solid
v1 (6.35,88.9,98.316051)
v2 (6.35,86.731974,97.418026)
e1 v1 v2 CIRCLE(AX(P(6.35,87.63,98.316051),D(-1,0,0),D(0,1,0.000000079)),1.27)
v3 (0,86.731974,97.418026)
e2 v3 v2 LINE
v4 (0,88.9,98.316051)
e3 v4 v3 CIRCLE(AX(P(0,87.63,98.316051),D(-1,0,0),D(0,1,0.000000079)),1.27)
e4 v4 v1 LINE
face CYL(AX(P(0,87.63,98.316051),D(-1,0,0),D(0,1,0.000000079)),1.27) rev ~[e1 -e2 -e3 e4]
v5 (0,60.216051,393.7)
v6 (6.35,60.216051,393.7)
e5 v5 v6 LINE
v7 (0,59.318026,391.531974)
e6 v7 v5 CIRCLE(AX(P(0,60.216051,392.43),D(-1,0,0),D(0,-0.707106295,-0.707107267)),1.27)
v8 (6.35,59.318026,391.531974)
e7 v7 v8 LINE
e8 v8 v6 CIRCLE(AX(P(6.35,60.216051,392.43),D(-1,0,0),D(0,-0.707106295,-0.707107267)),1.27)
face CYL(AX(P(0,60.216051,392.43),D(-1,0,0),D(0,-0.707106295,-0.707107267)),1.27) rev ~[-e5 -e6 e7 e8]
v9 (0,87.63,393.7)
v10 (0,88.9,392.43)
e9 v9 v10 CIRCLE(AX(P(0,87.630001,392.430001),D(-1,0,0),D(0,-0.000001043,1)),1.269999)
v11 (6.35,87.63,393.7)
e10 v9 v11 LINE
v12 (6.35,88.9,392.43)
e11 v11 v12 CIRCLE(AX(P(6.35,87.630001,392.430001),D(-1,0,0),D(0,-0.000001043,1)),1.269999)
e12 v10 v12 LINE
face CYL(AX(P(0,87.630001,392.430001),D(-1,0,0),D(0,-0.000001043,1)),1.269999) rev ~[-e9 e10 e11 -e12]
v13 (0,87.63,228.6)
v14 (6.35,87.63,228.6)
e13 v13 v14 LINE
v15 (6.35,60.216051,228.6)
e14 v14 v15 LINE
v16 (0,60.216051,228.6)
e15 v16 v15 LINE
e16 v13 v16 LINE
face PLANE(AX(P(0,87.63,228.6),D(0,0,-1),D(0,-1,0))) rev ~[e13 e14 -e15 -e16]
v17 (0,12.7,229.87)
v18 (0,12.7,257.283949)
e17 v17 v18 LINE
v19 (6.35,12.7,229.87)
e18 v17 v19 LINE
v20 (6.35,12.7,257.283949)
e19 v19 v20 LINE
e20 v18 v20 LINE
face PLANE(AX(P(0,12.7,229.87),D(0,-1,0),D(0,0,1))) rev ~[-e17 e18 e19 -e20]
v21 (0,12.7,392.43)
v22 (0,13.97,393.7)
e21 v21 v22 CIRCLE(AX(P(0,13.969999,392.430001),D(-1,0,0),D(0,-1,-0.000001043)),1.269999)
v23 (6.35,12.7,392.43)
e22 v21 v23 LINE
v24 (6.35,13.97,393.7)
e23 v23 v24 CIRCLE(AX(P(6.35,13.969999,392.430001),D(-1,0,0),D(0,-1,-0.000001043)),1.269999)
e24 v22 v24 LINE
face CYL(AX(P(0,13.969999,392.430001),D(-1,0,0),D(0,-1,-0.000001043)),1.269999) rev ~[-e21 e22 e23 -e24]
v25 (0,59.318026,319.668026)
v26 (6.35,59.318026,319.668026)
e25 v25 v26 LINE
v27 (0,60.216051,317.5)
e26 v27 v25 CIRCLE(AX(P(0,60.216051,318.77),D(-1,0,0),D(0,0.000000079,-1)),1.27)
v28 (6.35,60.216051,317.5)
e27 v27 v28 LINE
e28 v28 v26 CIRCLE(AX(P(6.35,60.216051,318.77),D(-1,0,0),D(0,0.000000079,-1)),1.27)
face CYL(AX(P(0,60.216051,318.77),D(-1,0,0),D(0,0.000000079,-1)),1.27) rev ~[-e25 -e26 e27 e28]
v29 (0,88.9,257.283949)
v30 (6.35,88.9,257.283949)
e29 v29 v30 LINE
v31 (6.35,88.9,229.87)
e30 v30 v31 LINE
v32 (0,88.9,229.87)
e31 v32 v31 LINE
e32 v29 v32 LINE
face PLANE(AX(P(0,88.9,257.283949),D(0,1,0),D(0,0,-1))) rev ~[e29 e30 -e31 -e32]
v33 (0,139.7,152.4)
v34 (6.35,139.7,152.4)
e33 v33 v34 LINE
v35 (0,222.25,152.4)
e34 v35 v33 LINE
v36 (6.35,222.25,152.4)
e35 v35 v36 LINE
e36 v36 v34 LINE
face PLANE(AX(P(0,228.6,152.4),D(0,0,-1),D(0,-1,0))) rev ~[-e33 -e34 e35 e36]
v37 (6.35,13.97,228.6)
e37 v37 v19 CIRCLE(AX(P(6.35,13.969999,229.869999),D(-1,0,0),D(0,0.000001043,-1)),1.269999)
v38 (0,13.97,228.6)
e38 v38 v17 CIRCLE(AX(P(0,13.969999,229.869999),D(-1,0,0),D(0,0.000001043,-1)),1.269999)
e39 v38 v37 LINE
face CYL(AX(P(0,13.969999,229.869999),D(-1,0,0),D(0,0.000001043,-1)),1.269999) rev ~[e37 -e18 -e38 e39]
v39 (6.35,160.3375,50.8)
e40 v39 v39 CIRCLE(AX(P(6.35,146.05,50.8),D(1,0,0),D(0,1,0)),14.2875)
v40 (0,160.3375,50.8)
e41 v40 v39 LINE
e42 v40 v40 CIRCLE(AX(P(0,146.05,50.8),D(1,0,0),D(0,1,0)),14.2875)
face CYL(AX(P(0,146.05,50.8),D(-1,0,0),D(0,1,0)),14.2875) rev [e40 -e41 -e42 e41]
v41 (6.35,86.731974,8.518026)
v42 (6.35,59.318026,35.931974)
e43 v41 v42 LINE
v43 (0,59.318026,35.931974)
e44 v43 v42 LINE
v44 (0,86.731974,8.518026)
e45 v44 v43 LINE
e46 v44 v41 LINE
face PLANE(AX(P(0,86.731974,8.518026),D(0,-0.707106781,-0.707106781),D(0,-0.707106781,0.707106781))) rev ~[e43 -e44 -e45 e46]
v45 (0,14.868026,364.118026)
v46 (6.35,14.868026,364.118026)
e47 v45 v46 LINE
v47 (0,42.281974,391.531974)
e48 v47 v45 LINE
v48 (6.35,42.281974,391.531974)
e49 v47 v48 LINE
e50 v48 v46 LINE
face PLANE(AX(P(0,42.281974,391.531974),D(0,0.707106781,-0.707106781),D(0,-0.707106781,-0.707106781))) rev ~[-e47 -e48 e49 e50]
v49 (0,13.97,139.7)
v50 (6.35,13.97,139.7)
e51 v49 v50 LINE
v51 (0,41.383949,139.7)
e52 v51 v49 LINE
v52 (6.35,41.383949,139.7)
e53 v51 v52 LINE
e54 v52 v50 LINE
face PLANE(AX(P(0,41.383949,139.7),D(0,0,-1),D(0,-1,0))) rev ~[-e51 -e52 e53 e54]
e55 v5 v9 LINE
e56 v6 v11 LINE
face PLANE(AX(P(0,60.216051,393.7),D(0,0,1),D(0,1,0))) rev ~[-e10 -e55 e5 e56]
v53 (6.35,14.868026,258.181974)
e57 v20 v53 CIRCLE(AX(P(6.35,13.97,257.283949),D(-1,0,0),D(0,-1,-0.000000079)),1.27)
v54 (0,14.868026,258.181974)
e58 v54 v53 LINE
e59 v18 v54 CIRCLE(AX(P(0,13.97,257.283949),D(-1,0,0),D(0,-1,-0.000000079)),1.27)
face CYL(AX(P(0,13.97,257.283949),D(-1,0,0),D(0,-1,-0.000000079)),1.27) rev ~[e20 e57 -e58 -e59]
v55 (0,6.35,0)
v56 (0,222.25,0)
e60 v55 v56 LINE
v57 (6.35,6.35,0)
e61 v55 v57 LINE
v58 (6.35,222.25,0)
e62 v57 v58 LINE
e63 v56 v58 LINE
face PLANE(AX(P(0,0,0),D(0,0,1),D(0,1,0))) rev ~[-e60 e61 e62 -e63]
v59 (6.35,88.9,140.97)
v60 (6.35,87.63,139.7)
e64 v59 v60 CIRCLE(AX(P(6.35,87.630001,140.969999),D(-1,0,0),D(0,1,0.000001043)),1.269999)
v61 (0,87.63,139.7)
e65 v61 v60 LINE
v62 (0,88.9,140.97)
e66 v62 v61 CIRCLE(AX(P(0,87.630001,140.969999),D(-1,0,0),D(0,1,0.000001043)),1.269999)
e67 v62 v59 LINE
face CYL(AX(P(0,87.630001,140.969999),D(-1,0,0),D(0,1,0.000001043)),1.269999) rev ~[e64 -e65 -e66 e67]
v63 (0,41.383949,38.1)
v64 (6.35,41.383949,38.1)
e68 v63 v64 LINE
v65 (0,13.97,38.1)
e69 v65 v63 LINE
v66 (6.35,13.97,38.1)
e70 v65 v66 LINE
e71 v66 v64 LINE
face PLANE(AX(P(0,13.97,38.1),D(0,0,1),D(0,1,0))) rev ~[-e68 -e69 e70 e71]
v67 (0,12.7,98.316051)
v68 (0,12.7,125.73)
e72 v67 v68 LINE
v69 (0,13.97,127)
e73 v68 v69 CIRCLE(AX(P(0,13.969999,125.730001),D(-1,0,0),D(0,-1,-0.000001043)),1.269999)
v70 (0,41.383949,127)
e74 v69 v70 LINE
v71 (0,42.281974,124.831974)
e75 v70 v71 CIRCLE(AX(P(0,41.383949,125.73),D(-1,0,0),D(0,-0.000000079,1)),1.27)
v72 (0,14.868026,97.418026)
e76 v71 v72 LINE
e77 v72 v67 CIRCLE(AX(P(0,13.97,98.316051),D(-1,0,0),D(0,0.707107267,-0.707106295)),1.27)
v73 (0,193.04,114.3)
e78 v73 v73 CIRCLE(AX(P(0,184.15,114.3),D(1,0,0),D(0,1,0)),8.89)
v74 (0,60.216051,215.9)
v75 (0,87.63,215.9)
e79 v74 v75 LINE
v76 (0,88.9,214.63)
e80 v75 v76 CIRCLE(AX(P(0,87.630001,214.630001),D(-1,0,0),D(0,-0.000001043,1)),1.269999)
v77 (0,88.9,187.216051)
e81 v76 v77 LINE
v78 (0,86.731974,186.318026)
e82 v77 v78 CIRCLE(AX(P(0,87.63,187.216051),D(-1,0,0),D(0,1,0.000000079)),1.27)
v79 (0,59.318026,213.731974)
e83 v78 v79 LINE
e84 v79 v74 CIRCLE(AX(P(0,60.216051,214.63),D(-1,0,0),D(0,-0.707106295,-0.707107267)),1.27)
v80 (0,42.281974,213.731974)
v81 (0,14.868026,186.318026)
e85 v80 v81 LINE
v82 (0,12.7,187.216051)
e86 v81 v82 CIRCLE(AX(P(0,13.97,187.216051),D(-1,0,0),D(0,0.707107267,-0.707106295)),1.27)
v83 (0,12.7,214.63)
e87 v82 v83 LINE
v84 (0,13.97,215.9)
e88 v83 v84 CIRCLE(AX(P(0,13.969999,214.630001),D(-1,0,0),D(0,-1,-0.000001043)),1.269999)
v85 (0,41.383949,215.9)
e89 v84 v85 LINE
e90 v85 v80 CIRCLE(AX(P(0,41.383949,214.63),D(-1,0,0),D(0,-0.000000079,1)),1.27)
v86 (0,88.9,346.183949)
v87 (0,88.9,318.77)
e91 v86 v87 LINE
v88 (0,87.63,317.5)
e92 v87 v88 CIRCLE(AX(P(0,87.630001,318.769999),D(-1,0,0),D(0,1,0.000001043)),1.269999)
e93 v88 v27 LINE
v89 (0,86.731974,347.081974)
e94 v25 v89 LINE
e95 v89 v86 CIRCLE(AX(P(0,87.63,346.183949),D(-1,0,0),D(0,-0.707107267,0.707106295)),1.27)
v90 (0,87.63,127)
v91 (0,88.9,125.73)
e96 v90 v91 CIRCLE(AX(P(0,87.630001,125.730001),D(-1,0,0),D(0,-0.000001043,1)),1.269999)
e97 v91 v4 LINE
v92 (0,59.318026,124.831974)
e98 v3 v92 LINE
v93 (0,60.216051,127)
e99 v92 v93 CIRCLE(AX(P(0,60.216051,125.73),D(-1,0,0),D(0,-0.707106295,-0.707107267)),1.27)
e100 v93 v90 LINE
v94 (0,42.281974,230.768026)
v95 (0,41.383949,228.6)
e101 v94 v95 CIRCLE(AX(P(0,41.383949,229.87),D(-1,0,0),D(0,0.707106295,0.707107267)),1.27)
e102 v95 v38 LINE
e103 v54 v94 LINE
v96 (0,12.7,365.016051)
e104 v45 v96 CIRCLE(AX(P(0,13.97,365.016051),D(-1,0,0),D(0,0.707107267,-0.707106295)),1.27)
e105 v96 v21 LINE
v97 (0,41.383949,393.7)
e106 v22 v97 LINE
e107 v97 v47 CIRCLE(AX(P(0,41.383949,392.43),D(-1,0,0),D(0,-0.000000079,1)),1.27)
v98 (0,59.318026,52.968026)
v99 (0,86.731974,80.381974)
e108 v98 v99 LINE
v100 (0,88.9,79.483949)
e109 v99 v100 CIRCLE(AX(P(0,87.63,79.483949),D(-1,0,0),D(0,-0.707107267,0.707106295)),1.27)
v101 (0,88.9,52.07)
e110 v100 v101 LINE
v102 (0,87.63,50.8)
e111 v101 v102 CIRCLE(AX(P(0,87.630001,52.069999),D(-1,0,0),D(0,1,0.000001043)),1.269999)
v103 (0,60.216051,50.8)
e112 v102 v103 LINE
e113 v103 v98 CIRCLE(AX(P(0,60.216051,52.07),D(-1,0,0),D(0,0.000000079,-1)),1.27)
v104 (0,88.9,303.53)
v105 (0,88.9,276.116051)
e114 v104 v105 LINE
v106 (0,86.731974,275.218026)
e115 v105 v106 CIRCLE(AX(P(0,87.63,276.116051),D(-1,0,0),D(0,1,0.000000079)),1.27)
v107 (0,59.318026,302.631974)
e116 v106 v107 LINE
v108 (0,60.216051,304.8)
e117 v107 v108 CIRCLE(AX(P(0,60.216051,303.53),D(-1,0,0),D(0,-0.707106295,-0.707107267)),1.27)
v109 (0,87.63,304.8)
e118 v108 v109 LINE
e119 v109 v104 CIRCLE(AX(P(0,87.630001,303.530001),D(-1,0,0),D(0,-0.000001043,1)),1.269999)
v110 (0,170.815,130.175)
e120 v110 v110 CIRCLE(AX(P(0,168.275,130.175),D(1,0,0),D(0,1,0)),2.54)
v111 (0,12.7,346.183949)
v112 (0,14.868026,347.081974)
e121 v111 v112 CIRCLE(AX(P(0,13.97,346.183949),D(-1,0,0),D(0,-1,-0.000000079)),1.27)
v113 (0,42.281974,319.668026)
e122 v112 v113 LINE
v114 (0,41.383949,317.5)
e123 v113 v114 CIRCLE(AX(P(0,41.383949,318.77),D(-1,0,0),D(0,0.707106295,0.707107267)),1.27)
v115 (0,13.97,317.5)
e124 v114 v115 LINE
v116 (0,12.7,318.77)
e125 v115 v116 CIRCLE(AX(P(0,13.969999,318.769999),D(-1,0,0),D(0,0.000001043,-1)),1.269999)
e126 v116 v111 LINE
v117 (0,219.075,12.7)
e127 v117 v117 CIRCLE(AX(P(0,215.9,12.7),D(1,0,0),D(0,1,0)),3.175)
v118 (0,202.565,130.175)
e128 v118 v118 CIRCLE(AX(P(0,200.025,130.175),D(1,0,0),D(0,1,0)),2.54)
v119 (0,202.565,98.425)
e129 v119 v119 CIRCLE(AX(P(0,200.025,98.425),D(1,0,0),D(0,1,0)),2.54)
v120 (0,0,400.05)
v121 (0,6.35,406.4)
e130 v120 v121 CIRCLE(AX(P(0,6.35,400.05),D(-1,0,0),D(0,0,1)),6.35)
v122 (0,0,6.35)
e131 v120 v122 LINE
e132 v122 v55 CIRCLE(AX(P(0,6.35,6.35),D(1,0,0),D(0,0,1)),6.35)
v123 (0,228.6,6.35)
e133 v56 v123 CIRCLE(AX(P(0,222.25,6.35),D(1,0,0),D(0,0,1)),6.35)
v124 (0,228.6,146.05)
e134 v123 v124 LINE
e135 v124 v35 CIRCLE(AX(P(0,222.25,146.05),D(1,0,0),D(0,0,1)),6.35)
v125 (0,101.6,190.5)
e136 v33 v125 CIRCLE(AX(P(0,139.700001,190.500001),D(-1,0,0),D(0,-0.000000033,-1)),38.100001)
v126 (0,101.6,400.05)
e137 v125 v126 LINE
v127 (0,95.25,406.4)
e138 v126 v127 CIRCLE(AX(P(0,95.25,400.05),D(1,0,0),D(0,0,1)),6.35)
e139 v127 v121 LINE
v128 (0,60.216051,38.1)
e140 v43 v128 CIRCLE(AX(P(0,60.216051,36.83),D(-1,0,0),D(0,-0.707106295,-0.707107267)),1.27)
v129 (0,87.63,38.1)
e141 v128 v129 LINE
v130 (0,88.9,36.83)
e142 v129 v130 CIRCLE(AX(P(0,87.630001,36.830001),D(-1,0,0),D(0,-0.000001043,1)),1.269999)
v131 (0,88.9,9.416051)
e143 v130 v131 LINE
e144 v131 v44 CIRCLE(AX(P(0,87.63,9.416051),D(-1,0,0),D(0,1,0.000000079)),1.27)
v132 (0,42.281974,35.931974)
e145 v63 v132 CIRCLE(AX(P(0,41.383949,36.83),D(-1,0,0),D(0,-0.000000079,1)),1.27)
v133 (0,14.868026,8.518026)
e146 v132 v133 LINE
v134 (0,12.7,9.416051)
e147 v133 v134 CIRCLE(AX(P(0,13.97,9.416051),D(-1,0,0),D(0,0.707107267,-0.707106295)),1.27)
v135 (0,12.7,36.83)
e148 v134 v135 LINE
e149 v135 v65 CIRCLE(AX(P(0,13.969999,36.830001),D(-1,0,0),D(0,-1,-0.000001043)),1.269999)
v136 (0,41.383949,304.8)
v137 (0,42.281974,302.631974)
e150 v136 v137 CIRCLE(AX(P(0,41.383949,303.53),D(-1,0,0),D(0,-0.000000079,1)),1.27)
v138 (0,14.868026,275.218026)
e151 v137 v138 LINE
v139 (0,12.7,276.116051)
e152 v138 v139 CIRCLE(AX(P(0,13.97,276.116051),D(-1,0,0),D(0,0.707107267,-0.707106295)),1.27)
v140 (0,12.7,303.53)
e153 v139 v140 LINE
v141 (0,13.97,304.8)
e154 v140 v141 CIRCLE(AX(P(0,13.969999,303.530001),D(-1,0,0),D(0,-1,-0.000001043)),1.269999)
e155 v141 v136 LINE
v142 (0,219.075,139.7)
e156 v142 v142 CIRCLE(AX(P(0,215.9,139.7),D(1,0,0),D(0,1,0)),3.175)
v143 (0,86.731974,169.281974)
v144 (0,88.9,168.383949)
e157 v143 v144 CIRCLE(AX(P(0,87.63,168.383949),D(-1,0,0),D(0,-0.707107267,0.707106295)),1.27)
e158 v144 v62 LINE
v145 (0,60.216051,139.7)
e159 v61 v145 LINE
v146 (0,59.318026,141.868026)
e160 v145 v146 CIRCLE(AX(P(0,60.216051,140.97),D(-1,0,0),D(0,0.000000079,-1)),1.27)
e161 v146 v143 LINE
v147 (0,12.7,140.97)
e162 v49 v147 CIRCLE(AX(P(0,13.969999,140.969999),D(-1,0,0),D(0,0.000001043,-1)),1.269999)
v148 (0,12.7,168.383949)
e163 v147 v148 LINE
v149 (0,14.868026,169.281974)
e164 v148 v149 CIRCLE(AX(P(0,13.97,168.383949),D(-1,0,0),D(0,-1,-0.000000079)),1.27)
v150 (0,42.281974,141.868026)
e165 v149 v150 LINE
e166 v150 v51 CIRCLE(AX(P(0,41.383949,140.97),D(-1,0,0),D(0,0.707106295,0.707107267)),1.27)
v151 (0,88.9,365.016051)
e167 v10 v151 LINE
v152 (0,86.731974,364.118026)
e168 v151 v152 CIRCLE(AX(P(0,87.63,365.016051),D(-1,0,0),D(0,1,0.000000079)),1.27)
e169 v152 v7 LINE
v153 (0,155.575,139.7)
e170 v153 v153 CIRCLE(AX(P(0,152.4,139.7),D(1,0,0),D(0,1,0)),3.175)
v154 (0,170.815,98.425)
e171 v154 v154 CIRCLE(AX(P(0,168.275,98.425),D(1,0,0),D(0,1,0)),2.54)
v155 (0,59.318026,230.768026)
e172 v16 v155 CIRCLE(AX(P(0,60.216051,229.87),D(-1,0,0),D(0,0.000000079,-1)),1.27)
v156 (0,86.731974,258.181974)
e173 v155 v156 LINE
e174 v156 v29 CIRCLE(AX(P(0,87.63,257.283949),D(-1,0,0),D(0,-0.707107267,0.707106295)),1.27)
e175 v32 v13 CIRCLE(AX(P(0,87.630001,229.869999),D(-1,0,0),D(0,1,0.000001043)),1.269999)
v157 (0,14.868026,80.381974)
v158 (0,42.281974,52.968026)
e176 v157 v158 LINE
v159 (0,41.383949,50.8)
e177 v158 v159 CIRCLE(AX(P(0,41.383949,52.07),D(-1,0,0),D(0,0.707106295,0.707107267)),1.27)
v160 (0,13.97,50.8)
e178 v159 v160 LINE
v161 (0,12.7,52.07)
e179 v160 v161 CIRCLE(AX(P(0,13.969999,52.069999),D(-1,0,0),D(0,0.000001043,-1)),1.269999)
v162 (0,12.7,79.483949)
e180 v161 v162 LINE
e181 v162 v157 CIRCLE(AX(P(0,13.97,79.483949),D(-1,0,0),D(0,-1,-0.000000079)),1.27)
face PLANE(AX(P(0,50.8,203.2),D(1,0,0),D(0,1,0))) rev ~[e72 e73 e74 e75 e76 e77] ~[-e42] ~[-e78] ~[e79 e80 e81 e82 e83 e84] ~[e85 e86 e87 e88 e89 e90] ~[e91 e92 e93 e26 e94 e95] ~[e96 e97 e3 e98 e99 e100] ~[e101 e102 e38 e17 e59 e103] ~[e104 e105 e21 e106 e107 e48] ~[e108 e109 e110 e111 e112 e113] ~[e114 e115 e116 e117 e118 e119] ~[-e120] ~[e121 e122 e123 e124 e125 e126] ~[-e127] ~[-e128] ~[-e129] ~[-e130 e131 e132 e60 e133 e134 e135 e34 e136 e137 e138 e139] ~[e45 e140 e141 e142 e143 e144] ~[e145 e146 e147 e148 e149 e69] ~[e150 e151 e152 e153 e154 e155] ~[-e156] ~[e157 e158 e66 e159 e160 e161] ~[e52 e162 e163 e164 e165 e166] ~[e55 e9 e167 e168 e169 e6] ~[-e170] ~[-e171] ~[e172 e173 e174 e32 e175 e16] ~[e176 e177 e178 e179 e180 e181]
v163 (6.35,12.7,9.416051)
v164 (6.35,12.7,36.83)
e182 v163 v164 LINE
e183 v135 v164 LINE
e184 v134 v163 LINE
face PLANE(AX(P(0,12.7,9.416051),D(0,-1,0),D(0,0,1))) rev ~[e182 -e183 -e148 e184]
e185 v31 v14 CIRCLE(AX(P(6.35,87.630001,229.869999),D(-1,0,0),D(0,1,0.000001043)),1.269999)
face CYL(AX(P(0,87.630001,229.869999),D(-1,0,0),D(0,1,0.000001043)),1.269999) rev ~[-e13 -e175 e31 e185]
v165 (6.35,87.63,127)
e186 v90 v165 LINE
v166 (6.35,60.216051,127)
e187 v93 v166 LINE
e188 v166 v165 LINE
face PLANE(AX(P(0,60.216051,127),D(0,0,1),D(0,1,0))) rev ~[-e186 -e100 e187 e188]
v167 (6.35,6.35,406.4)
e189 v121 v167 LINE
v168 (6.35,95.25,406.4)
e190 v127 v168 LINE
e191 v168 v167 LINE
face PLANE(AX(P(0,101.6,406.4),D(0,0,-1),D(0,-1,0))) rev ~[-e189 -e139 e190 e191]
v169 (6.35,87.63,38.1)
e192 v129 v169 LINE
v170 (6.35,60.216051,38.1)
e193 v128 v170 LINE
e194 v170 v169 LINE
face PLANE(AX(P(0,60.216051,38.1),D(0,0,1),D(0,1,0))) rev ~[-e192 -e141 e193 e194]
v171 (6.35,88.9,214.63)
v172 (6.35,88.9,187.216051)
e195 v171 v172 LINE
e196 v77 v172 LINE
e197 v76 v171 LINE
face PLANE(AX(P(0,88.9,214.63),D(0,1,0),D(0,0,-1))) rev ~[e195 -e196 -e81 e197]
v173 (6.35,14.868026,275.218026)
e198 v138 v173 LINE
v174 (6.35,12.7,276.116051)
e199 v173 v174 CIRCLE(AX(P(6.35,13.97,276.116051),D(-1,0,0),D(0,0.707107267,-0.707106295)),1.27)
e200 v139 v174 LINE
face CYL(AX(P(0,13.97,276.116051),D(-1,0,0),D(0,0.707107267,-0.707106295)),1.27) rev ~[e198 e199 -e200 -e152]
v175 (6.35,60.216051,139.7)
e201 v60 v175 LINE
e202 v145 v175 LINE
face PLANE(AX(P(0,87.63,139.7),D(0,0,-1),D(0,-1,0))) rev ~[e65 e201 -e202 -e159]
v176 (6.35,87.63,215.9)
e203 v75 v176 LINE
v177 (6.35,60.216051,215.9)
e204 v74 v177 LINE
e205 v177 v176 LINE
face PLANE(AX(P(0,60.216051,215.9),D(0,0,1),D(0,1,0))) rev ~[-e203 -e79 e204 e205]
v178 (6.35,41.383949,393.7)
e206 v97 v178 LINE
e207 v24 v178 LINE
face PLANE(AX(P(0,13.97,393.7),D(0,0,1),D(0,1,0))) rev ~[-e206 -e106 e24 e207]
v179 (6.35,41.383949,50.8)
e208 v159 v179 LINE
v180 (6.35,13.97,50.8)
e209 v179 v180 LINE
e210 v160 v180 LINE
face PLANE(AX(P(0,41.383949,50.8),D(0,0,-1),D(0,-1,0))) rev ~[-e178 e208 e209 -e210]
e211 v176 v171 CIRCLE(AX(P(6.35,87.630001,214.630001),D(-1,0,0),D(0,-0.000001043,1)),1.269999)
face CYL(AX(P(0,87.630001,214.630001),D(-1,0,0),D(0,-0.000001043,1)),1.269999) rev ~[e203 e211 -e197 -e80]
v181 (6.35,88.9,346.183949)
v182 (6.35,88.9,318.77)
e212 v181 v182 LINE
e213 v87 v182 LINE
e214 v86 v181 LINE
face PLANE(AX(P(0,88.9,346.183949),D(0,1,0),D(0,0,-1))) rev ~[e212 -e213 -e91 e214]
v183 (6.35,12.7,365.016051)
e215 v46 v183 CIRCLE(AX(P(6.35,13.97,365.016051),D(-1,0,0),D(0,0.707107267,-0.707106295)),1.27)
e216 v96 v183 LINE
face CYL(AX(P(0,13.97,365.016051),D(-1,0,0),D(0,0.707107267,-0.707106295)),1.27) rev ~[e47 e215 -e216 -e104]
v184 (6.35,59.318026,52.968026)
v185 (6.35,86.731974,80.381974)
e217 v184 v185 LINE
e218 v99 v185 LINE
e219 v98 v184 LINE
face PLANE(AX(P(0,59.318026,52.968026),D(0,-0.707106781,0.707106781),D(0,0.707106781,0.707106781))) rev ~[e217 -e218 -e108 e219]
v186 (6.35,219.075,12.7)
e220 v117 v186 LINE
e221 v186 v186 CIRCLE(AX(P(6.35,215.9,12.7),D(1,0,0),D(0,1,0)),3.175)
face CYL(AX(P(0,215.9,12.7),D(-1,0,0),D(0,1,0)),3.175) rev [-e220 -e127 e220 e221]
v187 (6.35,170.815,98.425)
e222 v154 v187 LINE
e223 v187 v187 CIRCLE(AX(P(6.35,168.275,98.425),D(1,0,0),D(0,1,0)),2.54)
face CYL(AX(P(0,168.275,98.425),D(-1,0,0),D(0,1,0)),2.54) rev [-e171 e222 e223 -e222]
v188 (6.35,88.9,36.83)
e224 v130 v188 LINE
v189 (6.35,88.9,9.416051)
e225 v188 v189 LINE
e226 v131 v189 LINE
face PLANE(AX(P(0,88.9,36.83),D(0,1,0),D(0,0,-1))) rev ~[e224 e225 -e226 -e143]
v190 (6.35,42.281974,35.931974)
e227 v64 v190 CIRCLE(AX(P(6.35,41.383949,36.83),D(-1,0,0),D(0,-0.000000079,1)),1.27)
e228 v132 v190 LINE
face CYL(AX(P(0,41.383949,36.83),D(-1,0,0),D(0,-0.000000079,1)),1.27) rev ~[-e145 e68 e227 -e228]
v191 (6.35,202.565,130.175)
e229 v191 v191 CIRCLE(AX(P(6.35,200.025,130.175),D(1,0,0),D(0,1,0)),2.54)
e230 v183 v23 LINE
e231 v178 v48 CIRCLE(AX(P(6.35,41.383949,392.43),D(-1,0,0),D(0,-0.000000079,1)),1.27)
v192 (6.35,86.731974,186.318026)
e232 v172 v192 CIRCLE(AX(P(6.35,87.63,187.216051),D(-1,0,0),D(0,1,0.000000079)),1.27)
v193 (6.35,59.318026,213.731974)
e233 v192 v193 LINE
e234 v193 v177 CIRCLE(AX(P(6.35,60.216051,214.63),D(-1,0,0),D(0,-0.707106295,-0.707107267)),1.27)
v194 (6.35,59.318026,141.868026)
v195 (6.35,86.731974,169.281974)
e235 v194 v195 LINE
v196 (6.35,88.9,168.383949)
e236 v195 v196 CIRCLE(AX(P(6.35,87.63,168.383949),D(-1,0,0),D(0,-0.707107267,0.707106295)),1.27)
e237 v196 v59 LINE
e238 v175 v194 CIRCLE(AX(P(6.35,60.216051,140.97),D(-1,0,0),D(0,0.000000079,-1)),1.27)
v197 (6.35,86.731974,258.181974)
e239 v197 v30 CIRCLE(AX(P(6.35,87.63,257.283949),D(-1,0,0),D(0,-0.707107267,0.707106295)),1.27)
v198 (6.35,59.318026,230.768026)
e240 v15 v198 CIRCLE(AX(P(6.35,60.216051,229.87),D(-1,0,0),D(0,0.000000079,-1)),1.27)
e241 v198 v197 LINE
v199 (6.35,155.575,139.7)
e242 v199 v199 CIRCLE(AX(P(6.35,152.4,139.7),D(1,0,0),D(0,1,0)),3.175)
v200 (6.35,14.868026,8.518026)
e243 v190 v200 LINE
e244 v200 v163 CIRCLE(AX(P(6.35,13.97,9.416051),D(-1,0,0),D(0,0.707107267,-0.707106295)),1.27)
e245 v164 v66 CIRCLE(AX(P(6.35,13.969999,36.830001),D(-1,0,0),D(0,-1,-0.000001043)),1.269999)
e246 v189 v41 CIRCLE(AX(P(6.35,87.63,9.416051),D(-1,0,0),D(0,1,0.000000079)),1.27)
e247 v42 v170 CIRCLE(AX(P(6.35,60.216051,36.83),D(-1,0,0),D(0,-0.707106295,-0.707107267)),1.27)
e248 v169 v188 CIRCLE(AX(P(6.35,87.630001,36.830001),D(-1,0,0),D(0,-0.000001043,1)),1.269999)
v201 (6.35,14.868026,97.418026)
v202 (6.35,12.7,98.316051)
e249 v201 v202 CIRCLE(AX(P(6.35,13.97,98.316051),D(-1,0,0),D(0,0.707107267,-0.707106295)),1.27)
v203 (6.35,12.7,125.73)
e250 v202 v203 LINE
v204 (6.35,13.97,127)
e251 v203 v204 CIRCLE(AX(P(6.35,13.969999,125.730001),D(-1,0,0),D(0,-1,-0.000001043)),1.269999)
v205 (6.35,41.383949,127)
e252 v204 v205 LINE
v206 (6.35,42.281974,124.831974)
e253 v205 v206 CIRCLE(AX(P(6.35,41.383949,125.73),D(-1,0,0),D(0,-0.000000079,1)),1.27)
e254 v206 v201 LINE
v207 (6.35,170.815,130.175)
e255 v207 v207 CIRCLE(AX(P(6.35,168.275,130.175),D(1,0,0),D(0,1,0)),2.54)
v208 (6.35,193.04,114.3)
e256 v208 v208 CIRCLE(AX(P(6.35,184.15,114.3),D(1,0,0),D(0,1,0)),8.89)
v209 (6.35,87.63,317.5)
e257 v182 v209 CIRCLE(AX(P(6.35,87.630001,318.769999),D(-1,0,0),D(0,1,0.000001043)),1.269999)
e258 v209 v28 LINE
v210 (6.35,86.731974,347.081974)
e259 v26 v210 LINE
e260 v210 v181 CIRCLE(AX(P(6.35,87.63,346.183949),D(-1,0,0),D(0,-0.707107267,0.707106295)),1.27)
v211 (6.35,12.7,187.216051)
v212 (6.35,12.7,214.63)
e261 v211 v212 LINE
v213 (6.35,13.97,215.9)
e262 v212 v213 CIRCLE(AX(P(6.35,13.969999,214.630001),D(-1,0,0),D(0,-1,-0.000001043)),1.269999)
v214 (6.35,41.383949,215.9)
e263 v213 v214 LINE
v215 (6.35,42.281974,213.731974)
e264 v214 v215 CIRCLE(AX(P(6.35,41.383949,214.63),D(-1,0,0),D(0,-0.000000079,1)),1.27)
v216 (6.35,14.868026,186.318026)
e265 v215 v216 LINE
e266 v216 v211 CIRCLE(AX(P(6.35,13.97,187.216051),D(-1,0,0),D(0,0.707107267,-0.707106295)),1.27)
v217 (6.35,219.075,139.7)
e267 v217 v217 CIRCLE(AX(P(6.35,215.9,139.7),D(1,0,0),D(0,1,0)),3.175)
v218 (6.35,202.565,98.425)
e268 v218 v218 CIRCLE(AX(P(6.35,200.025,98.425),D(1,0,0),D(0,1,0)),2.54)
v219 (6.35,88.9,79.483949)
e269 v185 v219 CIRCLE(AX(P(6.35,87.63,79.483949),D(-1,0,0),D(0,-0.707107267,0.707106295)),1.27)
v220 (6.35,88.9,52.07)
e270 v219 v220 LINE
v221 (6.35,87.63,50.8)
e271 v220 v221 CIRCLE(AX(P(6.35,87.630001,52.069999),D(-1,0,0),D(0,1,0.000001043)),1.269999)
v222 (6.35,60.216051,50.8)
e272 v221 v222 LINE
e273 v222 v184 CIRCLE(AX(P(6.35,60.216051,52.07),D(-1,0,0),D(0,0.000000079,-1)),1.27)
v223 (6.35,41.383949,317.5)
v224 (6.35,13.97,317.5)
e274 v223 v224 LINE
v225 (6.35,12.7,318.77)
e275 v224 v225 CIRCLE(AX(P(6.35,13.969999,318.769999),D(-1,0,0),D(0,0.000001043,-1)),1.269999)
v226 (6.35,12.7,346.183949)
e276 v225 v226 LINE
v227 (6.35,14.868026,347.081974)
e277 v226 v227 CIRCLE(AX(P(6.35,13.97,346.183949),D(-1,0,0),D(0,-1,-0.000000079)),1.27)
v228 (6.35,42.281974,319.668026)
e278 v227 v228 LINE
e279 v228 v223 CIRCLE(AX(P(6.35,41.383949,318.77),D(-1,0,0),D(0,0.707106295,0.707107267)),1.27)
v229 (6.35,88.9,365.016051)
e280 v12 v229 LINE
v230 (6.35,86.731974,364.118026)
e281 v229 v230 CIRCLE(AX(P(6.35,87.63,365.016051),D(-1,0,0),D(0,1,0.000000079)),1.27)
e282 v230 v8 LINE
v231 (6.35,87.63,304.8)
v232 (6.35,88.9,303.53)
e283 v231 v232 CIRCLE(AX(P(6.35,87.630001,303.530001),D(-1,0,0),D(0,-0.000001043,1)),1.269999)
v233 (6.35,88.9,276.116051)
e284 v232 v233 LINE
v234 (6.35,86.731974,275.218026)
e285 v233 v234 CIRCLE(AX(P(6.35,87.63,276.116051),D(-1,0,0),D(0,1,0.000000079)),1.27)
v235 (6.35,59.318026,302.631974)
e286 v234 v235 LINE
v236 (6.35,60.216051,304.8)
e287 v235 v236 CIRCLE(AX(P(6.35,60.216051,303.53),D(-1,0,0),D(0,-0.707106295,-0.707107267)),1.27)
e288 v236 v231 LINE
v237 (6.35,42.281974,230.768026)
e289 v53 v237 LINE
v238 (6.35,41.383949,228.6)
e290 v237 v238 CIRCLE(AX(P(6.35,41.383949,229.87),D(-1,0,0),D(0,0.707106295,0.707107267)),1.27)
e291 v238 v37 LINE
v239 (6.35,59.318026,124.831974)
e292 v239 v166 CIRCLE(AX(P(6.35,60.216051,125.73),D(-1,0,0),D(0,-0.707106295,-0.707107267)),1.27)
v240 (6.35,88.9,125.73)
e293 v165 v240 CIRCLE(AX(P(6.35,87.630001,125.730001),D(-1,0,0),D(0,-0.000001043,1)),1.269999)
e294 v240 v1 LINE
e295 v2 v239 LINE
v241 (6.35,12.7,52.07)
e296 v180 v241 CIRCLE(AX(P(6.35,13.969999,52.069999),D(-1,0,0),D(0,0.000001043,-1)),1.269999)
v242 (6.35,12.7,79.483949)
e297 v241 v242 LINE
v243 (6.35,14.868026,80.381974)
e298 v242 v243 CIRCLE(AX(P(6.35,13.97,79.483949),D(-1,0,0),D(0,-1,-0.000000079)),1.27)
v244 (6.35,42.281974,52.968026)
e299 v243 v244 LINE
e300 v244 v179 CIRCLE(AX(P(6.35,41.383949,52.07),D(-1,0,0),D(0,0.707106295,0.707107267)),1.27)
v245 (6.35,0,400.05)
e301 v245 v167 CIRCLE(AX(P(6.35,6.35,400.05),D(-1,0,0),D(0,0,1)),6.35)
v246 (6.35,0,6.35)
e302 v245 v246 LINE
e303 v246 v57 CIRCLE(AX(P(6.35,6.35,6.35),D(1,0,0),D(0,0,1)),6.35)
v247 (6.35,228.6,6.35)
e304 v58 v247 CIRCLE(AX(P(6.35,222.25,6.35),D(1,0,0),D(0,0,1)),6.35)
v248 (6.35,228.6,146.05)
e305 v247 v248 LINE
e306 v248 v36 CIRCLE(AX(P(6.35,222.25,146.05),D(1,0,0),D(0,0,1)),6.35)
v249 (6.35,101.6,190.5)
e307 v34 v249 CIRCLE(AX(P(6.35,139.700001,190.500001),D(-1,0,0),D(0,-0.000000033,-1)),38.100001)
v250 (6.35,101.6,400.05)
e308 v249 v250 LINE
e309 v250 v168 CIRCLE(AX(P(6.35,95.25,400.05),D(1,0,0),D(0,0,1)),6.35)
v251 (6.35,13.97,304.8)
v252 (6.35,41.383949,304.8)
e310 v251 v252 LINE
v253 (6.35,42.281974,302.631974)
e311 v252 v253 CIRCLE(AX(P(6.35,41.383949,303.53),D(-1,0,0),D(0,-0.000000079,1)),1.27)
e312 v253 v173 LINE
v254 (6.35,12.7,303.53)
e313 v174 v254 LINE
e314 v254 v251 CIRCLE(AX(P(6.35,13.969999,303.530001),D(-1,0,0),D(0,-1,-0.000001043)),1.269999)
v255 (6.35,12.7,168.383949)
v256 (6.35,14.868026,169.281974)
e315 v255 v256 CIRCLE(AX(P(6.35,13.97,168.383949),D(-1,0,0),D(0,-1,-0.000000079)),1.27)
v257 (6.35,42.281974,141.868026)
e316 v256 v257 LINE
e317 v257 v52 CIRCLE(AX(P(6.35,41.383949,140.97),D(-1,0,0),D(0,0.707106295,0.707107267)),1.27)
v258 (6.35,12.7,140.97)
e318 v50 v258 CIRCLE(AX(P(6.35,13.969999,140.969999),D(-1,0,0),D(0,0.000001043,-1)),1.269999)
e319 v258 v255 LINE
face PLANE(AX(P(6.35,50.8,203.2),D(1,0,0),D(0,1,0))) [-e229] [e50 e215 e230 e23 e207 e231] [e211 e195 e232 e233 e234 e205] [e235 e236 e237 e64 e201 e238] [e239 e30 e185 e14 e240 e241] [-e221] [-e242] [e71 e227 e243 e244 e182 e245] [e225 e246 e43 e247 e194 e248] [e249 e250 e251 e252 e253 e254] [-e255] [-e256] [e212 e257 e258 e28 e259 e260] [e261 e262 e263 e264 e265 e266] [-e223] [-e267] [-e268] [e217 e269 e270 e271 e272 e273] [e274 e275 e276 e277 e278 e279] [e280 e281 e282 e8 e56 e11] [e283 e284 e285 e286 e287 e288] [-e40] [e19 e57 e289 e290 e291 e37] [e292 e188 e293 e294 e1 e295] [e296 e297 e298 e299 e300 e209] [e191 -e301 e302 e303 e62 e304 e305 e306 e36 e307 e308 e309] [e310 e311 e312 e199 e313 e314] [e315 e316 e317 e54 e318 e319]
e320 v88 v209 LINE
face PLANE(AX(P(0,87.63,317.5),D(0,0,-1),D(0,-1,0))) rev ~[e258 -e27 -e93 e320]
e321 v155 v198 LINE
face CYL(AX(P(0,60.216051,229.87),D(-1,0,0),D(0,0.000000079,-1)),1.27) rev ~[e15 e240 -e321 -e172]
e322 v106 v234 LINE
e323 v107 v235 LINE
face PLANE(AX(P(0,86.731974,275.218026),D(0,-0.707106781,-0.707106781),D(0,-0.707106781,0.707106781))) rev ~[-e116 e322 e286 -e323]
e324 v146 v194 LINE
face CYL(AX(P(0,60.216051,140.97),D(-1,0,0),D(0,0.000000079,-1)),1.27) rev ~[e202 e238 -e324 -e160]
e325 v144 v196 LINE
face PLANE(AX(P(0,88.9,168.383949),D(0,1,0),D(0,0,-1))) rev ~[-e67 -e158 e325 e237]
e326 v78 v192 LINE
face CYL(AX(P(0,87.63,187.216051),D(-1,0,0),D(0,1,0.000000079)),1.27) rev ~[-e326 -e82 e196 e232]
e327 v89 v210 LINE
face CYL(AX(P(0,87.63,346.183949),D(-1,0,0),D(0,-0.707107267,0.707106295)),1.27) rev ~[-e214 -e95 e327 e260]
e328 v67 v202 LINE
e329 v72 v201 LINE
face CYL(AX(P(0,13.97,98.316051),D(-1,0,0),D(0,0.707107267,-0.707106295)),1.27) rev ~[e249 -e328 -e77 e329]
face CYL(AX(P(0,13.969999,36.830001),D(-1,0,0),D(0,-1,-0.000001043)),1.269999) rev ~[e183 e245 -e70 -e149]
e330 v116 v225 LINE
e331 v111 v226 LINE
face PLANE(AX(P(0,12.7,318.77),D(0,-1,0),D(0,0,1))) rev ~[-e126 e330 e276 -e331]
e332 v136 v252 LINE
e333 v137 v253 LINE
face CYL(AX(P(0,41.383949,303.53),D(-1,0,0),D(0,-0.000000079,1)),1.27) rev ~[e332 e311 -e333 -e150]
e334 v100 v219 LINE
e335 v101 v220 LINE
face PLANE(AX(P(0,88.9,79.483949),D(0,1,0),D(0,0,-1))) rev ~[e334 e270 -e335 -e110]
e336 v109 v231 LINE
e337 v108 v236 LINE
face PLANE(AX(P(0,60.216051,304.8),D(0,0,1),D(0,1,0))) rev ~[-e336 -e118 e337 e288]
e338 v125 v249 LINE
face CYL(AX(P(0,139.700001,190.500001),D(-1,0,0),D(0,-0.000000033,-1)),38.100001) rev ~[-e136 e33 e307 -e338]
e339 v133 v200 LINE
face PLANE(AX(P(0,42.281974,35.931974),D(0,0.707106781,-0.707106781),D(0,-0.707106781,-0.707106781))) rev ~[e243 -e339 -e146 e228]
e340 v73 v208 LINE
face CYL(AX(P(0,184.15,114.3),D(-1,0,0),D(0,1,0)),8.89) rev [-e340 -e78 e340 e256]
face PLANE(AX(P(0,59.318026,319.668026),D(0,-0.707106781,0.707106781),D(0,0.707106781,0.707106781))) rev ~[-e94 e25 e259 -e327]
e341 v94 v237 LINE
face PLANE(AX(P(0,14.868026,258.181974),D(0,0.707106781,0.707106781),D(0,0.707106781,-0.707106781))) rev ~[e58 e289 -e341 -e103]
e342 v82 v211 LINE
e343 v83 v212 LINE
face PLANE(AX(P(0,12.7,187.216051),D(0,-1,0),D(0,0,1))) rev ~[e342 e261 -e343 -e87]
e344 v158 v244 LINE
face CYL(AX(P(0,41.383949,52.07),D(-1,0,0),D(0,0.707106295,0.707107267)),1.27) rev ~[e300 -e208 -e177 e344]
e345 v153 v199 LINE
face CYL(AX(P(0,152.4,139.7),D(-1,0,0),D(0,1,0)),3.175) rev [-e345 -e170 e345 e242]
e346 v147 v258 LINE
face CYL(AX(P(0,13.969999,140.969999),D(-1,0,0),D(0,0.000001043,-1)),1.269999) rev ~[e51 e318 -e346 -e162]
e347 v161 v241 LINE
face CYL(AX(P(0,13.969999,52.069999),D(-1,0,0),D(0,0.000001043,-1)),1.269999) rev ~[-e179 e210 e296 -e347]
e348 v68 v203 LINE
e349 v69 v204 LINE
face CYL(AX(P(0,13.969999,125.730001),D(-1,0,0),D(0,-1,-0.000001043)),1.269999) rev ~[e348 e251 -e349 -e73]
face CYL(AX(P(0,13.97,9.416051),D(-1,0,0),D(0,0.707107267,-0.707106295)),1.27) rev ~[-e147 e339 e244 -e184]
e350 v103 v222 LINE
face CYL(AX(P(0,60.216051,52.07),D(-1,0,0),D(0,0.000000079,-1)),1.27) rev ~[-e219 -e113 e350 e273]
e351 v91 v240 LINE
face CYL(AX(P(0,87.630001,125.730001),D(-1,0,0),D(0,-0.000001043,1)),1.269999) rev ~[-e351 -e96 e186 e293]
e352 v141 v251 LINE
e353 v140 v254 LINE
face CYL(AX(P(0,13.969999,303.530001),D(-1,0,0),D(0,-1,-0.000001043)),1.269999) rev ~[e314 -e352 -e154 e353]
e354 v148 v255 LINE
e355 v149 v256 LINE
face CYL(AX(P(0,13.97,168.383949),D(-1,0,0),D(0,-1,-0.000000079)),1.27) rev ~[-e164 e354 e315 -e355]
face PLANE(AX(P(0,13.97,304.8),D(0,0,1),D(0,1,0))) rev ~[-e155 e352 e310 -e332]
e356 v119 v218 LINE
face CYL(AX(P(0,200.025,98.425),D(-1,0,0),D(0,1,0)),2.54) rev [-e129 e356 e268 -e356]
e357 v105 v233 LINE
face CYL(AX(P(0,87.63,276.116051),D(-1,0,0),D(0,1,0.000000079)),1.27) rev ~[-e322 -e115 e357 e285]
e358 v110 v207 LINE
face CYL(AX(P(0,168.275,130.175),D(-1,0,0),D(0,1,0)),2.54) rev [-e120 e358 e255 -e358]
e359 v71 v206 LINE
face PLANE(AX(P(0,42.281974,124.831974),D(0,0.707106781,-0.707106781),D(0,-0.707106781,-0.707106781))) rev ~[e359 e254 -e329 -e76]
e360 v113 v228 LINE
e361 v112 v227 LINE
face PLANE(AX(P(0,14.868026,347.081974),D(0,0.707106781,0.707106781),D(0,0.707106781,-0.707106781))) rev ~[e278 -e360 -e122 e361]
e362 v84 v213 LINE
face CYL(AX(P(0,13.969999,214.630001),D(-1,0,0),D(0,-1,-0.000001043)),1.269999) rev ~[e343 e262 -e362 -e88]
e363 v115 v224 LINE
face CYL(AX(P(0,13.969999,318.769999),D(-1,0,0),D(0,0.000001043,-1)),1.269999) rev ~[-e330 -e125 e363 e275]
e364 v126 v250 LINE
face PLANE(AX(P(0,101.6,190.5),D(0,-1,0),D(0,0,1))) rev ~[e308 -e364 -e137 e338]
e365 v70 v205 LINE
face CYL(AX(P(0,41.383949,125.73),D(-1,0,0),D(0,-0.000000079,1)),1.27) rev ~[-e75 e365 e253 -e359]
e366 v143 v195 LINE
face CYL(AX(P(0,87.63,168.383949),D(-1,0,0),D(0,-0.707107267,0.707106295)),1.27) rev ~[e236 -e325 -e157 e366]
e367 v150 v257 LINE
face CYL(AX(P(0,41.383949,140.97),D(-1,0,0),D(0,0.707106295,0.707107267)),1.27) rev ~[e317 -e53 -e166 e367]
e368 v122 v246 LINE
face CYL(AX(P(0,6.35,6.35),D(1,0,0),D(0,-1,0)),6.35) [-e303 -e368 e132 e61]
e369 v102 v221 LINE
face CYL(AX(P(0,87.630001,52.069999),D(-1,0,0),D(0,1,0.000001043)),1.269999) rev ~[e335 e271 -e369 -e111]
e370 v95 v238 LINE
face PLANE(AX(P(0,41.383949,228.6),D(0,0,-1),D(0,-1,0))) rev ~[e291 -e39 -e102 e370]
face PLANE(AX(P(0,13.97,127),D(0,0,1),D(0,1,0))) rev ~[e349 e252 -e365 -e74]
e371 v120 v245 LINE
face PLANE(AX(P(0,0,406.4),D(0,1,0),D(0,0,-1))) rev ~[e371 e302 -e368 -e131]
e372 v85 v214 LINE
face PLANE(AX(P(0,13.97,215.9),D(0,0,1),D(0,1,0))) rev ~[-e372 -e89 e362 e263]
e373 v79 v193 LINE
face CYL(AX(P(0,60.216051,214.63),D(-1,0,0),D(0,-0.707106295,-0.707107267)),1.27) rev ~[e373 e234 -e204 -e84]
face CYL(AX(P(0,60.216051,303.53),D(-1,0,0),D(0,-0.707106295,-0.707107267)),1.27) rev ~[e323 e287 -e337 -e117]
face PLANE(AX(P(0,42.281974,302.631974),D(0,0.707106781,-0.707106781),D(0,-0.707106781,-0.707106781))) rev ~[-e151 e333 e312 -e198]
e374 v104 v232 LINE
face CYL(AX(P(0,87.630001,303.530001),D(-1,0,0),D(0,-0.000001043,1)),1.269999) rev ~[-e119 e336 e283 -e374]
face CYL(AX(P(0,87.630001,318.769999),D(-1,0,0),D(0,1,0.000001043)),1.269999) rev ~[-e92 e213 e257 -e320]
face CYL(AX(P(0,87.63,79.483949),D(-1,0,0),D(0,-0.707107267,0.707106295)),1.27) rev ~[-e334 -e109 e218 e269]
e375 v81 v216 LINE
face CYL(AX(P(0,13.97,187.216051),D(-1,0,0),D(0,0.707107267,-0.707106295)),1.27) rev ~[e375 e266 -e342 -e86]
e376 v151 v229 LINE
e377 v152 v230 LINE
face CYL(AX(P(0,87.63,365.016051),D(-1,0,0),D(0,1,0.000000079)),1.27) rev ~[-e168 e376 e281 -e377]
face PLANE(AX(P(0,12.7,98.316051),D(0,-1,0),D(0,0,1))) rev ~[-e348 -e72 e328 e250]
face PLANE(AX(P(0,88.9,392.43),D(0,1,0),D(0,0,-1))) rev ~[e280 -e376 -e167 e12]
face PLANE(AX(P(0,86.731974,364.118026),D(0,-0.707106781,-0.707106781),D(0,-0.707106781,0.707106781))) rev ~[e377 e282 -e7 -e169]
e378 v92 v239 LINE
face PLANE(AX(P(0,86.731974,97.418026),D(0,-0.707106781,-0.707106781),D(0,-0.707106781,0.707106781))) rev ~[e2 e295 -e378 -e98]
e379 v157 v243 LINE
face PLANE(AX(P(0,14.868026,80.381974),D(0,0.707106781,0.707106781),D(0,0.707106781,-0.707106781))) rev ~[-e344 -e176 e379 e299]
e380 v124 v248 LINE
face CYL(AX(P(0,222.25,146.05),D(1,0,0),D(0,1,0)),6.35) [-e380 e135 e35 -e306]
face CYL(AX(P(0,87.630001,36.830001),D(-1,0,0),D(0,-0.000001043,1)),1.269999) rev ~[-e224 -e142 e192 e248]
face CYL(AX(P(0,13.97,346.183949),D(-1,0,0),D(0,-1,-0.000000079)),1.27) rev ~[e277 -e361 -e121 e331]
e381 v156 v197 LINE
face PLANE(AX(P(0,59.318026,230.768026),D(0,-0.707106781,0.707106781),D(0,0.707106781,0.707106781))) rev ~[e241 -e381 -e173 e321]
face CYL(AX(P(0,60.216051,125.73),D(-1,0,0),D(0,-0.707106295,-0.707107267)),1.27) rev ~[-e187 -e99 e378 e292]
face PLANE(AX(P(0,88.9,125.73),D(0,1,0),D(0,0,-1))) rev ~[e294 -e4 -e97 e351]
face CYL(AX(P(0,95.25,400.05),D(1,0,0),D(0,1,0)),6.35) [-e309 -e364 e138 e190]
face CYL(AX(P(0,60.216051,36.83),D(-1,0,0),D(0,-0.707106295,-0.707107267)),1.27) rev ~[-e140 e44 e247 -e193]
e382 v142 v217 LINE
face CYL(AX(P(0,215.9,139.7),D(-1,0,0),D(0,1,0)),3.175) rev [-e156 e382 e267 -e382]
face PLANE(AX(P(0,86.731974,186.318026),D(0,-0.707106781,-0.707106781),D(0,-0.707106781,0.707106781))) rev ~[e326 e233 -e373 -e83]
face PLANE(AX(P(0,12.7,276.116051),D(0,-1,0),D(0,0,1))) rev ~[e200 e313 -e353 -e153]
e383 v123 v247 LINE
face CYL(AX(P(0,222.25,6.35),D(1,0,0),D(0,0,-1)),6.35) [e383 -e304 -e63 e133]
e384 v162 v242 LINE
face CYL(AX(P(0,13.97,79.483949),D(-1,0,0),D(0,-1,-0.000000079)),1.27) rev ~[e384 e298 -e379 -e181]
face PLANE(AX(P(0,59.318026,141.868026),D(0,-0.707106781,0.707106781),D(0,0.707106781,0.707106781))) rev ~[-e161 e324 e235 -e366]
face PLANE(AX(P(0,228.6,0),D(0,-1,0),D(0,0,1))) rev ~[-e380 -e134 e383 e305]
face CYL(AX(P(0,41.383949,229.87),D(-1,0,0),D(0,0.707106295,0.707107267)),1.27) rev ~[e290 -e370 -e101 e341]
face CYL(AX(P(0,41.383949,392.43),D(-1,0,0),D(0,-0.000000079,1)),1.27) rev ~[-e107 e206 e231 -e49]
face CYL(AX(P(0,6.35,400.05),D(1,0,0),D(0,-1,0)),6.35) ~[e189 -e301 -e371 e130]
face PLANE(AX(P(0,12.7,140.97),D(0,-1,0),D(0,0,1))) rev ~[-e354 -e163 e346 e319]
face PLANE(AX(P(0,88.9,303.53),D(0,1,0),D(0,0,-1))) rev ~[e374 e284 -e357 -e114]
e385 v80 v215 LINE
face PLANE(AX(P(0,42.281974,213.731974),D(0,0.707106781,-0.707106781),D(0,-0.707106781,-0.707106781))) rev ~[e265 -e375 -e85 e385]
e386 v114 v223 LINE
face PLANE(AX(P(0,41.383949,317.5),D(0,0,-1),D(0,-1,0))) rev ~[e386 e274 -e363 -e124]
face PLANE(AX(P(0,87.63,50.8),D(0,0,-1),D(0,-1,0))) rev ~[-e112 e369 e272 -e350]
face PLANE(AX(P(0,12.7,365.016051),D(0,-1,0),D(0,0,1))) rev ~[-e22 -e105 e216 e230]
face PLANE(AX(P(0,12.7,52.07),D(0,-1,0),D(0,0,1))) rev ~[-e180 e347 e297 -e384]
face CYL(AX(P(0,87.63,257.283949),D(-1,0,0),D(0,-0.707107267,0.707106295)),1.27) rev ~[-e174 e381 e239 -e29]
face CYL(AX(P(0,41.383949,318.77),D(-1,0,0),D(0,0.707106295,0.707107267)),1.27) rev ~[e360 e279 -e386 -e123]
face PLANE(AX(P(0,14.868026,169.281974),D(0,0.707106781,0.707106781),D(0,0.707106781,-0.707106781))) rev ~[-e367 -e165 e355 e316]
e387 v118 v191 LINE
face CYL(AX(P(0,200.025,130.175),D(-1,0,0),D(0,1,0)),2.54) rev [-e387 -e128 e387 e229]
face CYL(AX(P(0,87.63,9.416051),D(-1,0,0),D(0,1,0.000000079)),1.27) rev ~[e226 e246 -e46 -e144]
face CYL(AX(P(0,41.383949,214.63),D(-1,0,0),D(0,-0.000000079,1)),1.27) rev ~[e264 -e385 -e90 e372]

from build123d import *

# Parameters (mm, degrees)
F0_R     = 14.2875
F0_R_2   = 2.54
F0_R_3   = 3.175
F0_R_4   = 8.89
F1_DEPTH = 6.35
F2_R     = 6.35


with BuildPart() as f1:
    # F0 (on Right) → F1 (new body)
    with BuildSketch(Plane.YZ):
        Polygon((0, 406.4), (0, 0), (101.6, 0), (101.6, 152.4), (101.6, 190.5), (101.6, 406.4), align=None)
        with BuildLine():
            ThreePointArc((14.868026, 8.518026), (13.483992, 8.242724), (12.7, 9.416051))
            Line((12.7, 9.416051), (12.7, 36.83))
            ThreePointArc((12.7, 36.83), (13.071974, 37.728026), (13.97, 38.1))
            Line((13.97, 38.1), (41.383949, 38.1))
            ThreePointArc((41.383949, 38.1), (42.557276, 37.316008), (42.281974, 35.931974))
            Line((42.281974, 35.931974), (14.868026, 8.518026))
        make_face(mode=Mode.SUBTRACT)
        with BuildLine():
            Line((41.383949, 50.8), (13.97, 50.8))
            ThreePointArc((13.97, 50.8), (13.071974, 51.171974), (12.7, 52.07))
            Line((12.7, 52.07), (12.7, 79.483949))
            ThreePointArc((12.7, 79.483949), (13.483992, 80.657276), (14.868026, 80.381974))
            Line((14.868026, 80.381974), (42.281974, 52.968026))
            ThreePointArc((42.281974, 52.968026), (42.557276, 51.583992), (41.383949, 50.8))
        make_face(mode=Mode.SUBTRACT)
        with BuildLine():
            Line((88.9, 36.83), (88.9, 9.416051))
            ThreePointArc((88.9, 9.416051), (88.116008, 8.242724), (86.731974, 8.518026))
            Line((86.731974, 8.518026), (59.318026, 35.931974))
            ThreePointArc((59.318026, 35.931974), (59.042724, 37.316008), (60.216051, 38.1))
            Line((60.216051, 38.1), (87.63, 38.1))
            ThreePointArc((87.63, 38.1), (88.528026, 37.728026), (88.9, 36.83))
        make_face(mode=Mode.SUBTRACT)
        with BuildLine():
            ThreePointArc((60.216051, 50.8), (59.042724, 51.583992), (59.318026, 52.968026))
            Line((59.318026, 52.968026), (86.731974, 80.381974))
            ThreePointArc((86.731974, 80.381974), (88.116008, 80.657276), (88.9, 79.483949))
            Line((88.9, 79.483949), (88.9, 52.07))
            ThreePointArc((88.9, 52.07), (88.528026, 51.171974), (87.63, 50.8))
            Line((87.63, 50.8), (60.216051, 50.8))
        make_face(mode=Mode.SUBTRACT)
        with BuildLine():
            ThreePointArc((14.868026, 97.418026), (13.483992, 97.142724), (12.7, 98.316051))
            Line((12.7, 98.316051), (12.7, 125.73))
            ThreePointArc((12.7, 125.73), (13.071974, 126.628026), (13.97, 127))
            Line((13.97, 127), (41.383949, 127))
            ThreePointArc((41.383949, 127), (42.557276, 126.216008), (42.281974, 124.831974))
            Line((42.281974, 124.831974), (14.868026, 97.418026))
        make_face(mode=Mode.SUBTRACT)
        with BuildLine():
            Line((41.383949, 139.7), (13.97, 139.7))
            ThreePointArc((13.97, 139.7), (13.071974, 140.071974), (12.7, 140.97))
            Line((12.7, 140.97), (12.7, 168.383949))
            ThreePointArc((12.7, 168.383949), (13.483992, 169.557276), (14.868026, 169.281974))
            Line((14.868026, 169.281974), (42.281974, 141.868026))
            ThreePointArc((42.281974, 141.868026), (42.557276, 140.483992), (41.383949, 139.7))
        make_face(mode=Mode.SUBTRACT)
        with BuildLine():
            ThreePointArc((14.868026, 186.318026), (13.483992, 186.042724), (12.7, 187.216051))
            Line((12.7, 187.216051), (12.7, 214.63))
            ThreePointArc((12.7, 214.63), (13.071974, 215.528026), (13.97, 215.9))
            Line((13.97, 215.9), (41.383949, 215.9))
            ThreePointArc((41.383949, 215.9), (42.557276, 215.116008), (42.281974, 213.731974))
            Line((42.281974, 213.731974), (14.868026, 186.318026))
        make_face(mode=Mode.SUBTRACT)
        with BuildLine():
            Line((88.9, 125.73), (88.9, 98.316051))
            ThreePointArc((88.9, 98.316051), (88.116008, 97.142724), (86.731974, 97.418026))
            Line((86.731974, 97.418026), (59.318026, 124.831974))
            ThreePointArc((59.318026, 124.831974), (59.042724, 126.216008), (60.216051, 127))
            Line((60.216051, 127), (87.63, 127))
            ThreePointArc((87.63, 127), (88.528026, 126.628026), (88.9, 125.73))
        make_face(mode=Mode.SUBTRACT)
        with BuildLine():
            ThreePointArc((60.216051, 139.7), (59.042724, 140.483992), (59.318026, 141.868026))
            Line((59.318026, 141.868026), (86.731974, 169.281974))
            ThreePointArc((86.731974, 169.281974), (88.116008, 169.557276), (88.9, 168.383949))
            Line((88.9, 168.383949), (88.9, 140.97))
            ThreePointArc((88.9, 140.97), (88.528026, 140.071974), (87.63, 139.7))
            Line((87.63, 139.7), (60.216051, 139.7))
        make_face(mode=Mode.SUBTRACT)
        with BuildLine():
            Line((88.9, 214.63), (88.9, 187.216051))
            ThreePointArc((88.9, 187.216051), (88.116008, 186.042724), (86.731974, 186.318026))
            Line((86.731974, 186.318026), (59.318026, 213.731974))
            ThreePointArc((59.318026, 213.731974), (59.042724, 215.116008), (60.216051, 215.9))
            Line((60.216051, 215.9), (87.63, 215.9))
            ThreePointArc((87.63, 215.9), (88.528026, 215.528026), (88.9, 214.63))
        make_face(mode=Mode.SUBTRACT)
        with BuildLine():
            Line((41.383949, 228.6), (13.97, 228.6))
            ThreePointArc((13.97, 228.6), (13.071974, 228.971974), (12.7, 229.87))
            Line((12.7, 229.87), (12.7, 257.283949))
            ThreePointArc((12.7, 257.283949), (13.483992, 258.457276), (14.868026, 258.181974))
            Line((14.868026, 258.181974), (42.281974, 230.768026))
            ThreePointArc((42.281974, 230.768026), (42.557276, 229.383992), (41.383949, 228.6))
        make_face(mode=Mode.SUBTRACT)
        with BuildLine():
            ThreePointArc((14.868026, 275.218026), (13.483992, 274.942724), (12.7, 276.116051))
            Line((12.7, 276.116051), (12.7, 303.53))
            ThreePointArc((12.7, 303.53), (13.071974, 304.428026), (13.97, 304.8))
            Line((13.97, 304.8), (41.383949, 304.8))
            ThreePointArc((41.383949, 304.8), (42.557276, 304.016008), (42.281974, 302.631974))
            Line((42.281974, 302.631974), (14.868026, 275.218026))
        make_face(mode=Mode.SUBTRACT)
        with BuildLine():
            ThreePointArc((60.216051, 228.6), (59.042724, 229.383992), (59.318026, 230.768026))
            Line((59.318026, 230.768026), (86.731974, 258.181974))
            ThreePointArc((86.731974, 258.181974), (88.116008, 258.457276), (88.9, 257.283949))
            Line((88.9, 257.283949), (88.9, 229.87))
            ThreePointArc((88.9, 229.87), (88.528026, 228.971974), (87.63, 228.6))
            Line((87.63, 228.6), (60.216051, 228.6))
        make_face(mode=Mode.SUBTRACT)
        with BuildLine():
            Line((88.9, 303.53), (88.9, 276.116051))
            ThreePointArc((88.9, 276.116051), (88.116008, 274.942724), (86.731974, 275.218026))
            Line((86.731974, 275.218026), (59.318026, 302.631974))
            ThreePointArc((59.318026, 302.631974), (59.042724, 304.016008), (60.216051, 304.8))
            Line((60.216051, 304.8), (87.63, 304.8))
            ThreePointArc((87.63, 304.8), (88.528026, 304.428026), (88.9, 303.53))
        make_face(mode=Mode.SUBTRACT)
        with BuildLine():
            ThreePointArc((13.97, 317.5), (13.071974, 317.871974), (12.7, 318.77))
            Line((12.7, 318.77), (12.7, 346.183949))
            ThreePointArc((12.7, 346.183949), (13.483992, 347.357276), (14.868026, 347.081974))
            Line((14.868026, 347.081974), (42.281974, 319.668026))
            ThreePointArc((42.281974, 319.668026), (42.557276, 318.283992), (41.383949, 317.5))
            Line((41.383949, 317.5), (13.97, 317.5))
        make_face(mode=Mode.SUBTRACT)
        with BuildLine():
            Line((12.7, 365.016051), (12.7, 392.43))
            ThreePointArc((12.7, 392.43), (13.071974, 393.328026), (13.97, 393.7))
            Line((13.97, 393.7), (41.383949, 393.7))
            ThreePointArc((41.383949, 393.7), (42.557276, 392.916008), (42.281974, 391.531974))
            Line((42.281974, 391.531974), (14.868026, 364.118026))
            ThreePointArc((14.868026, 364.118026), (13.483992, 363.842724), (12.7, 365.016051))
        make_face(mode=Mode.SUBTRACT)
        with BuildLine():
            Line((87.63, 317.5), (60.216051, 317.5))
            ThreePointArc((60.216051, 317.5), (59.042724, 318.283992), (59.318026, 319.668026))
            Line((59.318026, 319.668026), (86.731974, 347.081974))
            ThreePointArc((86.731974, 347.081974), (88.116008, 347.357276), (88.9, 346.183949))
            Line((88.9, 346.183949), (88.9, 318.77))
            ThreePointArc((88.9, 318.77), (88.528026, 317.871974), (87.63, 317.5))
        make_face(mode=Mode.SUBTRACT)
        with BuildLine():
            Line((60.216051, 393.7), (87.63, 393.7))
            ThreePointArc((87.63, 393.7), (88.528026, 393.328026), (88.9, 392.43))
            Line((88.9, 392.43), (88.9, 365.016051))
            ThreePointArc((88.9, 365.016051), (88.116008, 363.842724), (86.731974, 364.118026))
            Line((86.731974, 364.118026), (59.318026, 391.531974))
            ThreePointArc((59.318026, 391.531974), (59.042724, 392.916008), (60.216051, 393.7))
        make_face(mode=Mode.SUBTRACT)
        Polygon((101.6, 152.4), (101.6, 0), (228.6, 0), (228.6, 152.4), (139.7, 152.4), align=None)
        with Locations((146.05, 50.8)):
            Circle(F0_R, mode=Mode.SUBTRACT)
        with Locations((168.275, 98.425)):
            Circle(F0_R_2, mode=Mode.SUBTRACT)
        with Locations((215.9, 12.7)):
            Circle(F0_R_3, mode=Mode.SUBTRACT)
        with Locations((200.025, 98.425)):
            Circle(F0_R_2, mode=Mode.SUBTRACT)
        with Locations((152.4, 139.7)):
            Circle(F0_R_3, mode=Mode.SUBTRACT)
        with Locations((168.275, 130.175)):
            Circle(F0_R_2, mode=Mode.SUBTRACT)
        with Locations((184.15, 114.3)):
            Circle(F0_R_4, mode=Mode.SUBTRACT)
        with Locations((200.025, 130.175)):
            Circle(F0_R_2, mode=Mode.SUBTRACT)
        with Locations((215.9, 139.7)):
            Circle(F0_R_3, mode=Mode.SUBTRACT)
        with BuildLine():
            Line((101.6, 190.5), (101.6, 152.4))
            Line((101.6, 152.4), (139.7, 152.4))
            ThreePointArc((139.7, 152.4), (112.759232, 163.559232), (101.6, 190.5))
        make_face()
    extrude(amount=F1_DEPTH)

    # F2
    f2_edges = [f1.edges().sort_by_distance(p)[0] for p in [
        (3.175, 228.6, 0),
        (3.175, 228.6, 152.4),
        (3.175, 0, 0),
        (3.175, 0, 406.4),
        (3.175, 101.6, 406.4),
    ]]
    fillet(f2_edges, radius=F2_R)


solid = f1.part
